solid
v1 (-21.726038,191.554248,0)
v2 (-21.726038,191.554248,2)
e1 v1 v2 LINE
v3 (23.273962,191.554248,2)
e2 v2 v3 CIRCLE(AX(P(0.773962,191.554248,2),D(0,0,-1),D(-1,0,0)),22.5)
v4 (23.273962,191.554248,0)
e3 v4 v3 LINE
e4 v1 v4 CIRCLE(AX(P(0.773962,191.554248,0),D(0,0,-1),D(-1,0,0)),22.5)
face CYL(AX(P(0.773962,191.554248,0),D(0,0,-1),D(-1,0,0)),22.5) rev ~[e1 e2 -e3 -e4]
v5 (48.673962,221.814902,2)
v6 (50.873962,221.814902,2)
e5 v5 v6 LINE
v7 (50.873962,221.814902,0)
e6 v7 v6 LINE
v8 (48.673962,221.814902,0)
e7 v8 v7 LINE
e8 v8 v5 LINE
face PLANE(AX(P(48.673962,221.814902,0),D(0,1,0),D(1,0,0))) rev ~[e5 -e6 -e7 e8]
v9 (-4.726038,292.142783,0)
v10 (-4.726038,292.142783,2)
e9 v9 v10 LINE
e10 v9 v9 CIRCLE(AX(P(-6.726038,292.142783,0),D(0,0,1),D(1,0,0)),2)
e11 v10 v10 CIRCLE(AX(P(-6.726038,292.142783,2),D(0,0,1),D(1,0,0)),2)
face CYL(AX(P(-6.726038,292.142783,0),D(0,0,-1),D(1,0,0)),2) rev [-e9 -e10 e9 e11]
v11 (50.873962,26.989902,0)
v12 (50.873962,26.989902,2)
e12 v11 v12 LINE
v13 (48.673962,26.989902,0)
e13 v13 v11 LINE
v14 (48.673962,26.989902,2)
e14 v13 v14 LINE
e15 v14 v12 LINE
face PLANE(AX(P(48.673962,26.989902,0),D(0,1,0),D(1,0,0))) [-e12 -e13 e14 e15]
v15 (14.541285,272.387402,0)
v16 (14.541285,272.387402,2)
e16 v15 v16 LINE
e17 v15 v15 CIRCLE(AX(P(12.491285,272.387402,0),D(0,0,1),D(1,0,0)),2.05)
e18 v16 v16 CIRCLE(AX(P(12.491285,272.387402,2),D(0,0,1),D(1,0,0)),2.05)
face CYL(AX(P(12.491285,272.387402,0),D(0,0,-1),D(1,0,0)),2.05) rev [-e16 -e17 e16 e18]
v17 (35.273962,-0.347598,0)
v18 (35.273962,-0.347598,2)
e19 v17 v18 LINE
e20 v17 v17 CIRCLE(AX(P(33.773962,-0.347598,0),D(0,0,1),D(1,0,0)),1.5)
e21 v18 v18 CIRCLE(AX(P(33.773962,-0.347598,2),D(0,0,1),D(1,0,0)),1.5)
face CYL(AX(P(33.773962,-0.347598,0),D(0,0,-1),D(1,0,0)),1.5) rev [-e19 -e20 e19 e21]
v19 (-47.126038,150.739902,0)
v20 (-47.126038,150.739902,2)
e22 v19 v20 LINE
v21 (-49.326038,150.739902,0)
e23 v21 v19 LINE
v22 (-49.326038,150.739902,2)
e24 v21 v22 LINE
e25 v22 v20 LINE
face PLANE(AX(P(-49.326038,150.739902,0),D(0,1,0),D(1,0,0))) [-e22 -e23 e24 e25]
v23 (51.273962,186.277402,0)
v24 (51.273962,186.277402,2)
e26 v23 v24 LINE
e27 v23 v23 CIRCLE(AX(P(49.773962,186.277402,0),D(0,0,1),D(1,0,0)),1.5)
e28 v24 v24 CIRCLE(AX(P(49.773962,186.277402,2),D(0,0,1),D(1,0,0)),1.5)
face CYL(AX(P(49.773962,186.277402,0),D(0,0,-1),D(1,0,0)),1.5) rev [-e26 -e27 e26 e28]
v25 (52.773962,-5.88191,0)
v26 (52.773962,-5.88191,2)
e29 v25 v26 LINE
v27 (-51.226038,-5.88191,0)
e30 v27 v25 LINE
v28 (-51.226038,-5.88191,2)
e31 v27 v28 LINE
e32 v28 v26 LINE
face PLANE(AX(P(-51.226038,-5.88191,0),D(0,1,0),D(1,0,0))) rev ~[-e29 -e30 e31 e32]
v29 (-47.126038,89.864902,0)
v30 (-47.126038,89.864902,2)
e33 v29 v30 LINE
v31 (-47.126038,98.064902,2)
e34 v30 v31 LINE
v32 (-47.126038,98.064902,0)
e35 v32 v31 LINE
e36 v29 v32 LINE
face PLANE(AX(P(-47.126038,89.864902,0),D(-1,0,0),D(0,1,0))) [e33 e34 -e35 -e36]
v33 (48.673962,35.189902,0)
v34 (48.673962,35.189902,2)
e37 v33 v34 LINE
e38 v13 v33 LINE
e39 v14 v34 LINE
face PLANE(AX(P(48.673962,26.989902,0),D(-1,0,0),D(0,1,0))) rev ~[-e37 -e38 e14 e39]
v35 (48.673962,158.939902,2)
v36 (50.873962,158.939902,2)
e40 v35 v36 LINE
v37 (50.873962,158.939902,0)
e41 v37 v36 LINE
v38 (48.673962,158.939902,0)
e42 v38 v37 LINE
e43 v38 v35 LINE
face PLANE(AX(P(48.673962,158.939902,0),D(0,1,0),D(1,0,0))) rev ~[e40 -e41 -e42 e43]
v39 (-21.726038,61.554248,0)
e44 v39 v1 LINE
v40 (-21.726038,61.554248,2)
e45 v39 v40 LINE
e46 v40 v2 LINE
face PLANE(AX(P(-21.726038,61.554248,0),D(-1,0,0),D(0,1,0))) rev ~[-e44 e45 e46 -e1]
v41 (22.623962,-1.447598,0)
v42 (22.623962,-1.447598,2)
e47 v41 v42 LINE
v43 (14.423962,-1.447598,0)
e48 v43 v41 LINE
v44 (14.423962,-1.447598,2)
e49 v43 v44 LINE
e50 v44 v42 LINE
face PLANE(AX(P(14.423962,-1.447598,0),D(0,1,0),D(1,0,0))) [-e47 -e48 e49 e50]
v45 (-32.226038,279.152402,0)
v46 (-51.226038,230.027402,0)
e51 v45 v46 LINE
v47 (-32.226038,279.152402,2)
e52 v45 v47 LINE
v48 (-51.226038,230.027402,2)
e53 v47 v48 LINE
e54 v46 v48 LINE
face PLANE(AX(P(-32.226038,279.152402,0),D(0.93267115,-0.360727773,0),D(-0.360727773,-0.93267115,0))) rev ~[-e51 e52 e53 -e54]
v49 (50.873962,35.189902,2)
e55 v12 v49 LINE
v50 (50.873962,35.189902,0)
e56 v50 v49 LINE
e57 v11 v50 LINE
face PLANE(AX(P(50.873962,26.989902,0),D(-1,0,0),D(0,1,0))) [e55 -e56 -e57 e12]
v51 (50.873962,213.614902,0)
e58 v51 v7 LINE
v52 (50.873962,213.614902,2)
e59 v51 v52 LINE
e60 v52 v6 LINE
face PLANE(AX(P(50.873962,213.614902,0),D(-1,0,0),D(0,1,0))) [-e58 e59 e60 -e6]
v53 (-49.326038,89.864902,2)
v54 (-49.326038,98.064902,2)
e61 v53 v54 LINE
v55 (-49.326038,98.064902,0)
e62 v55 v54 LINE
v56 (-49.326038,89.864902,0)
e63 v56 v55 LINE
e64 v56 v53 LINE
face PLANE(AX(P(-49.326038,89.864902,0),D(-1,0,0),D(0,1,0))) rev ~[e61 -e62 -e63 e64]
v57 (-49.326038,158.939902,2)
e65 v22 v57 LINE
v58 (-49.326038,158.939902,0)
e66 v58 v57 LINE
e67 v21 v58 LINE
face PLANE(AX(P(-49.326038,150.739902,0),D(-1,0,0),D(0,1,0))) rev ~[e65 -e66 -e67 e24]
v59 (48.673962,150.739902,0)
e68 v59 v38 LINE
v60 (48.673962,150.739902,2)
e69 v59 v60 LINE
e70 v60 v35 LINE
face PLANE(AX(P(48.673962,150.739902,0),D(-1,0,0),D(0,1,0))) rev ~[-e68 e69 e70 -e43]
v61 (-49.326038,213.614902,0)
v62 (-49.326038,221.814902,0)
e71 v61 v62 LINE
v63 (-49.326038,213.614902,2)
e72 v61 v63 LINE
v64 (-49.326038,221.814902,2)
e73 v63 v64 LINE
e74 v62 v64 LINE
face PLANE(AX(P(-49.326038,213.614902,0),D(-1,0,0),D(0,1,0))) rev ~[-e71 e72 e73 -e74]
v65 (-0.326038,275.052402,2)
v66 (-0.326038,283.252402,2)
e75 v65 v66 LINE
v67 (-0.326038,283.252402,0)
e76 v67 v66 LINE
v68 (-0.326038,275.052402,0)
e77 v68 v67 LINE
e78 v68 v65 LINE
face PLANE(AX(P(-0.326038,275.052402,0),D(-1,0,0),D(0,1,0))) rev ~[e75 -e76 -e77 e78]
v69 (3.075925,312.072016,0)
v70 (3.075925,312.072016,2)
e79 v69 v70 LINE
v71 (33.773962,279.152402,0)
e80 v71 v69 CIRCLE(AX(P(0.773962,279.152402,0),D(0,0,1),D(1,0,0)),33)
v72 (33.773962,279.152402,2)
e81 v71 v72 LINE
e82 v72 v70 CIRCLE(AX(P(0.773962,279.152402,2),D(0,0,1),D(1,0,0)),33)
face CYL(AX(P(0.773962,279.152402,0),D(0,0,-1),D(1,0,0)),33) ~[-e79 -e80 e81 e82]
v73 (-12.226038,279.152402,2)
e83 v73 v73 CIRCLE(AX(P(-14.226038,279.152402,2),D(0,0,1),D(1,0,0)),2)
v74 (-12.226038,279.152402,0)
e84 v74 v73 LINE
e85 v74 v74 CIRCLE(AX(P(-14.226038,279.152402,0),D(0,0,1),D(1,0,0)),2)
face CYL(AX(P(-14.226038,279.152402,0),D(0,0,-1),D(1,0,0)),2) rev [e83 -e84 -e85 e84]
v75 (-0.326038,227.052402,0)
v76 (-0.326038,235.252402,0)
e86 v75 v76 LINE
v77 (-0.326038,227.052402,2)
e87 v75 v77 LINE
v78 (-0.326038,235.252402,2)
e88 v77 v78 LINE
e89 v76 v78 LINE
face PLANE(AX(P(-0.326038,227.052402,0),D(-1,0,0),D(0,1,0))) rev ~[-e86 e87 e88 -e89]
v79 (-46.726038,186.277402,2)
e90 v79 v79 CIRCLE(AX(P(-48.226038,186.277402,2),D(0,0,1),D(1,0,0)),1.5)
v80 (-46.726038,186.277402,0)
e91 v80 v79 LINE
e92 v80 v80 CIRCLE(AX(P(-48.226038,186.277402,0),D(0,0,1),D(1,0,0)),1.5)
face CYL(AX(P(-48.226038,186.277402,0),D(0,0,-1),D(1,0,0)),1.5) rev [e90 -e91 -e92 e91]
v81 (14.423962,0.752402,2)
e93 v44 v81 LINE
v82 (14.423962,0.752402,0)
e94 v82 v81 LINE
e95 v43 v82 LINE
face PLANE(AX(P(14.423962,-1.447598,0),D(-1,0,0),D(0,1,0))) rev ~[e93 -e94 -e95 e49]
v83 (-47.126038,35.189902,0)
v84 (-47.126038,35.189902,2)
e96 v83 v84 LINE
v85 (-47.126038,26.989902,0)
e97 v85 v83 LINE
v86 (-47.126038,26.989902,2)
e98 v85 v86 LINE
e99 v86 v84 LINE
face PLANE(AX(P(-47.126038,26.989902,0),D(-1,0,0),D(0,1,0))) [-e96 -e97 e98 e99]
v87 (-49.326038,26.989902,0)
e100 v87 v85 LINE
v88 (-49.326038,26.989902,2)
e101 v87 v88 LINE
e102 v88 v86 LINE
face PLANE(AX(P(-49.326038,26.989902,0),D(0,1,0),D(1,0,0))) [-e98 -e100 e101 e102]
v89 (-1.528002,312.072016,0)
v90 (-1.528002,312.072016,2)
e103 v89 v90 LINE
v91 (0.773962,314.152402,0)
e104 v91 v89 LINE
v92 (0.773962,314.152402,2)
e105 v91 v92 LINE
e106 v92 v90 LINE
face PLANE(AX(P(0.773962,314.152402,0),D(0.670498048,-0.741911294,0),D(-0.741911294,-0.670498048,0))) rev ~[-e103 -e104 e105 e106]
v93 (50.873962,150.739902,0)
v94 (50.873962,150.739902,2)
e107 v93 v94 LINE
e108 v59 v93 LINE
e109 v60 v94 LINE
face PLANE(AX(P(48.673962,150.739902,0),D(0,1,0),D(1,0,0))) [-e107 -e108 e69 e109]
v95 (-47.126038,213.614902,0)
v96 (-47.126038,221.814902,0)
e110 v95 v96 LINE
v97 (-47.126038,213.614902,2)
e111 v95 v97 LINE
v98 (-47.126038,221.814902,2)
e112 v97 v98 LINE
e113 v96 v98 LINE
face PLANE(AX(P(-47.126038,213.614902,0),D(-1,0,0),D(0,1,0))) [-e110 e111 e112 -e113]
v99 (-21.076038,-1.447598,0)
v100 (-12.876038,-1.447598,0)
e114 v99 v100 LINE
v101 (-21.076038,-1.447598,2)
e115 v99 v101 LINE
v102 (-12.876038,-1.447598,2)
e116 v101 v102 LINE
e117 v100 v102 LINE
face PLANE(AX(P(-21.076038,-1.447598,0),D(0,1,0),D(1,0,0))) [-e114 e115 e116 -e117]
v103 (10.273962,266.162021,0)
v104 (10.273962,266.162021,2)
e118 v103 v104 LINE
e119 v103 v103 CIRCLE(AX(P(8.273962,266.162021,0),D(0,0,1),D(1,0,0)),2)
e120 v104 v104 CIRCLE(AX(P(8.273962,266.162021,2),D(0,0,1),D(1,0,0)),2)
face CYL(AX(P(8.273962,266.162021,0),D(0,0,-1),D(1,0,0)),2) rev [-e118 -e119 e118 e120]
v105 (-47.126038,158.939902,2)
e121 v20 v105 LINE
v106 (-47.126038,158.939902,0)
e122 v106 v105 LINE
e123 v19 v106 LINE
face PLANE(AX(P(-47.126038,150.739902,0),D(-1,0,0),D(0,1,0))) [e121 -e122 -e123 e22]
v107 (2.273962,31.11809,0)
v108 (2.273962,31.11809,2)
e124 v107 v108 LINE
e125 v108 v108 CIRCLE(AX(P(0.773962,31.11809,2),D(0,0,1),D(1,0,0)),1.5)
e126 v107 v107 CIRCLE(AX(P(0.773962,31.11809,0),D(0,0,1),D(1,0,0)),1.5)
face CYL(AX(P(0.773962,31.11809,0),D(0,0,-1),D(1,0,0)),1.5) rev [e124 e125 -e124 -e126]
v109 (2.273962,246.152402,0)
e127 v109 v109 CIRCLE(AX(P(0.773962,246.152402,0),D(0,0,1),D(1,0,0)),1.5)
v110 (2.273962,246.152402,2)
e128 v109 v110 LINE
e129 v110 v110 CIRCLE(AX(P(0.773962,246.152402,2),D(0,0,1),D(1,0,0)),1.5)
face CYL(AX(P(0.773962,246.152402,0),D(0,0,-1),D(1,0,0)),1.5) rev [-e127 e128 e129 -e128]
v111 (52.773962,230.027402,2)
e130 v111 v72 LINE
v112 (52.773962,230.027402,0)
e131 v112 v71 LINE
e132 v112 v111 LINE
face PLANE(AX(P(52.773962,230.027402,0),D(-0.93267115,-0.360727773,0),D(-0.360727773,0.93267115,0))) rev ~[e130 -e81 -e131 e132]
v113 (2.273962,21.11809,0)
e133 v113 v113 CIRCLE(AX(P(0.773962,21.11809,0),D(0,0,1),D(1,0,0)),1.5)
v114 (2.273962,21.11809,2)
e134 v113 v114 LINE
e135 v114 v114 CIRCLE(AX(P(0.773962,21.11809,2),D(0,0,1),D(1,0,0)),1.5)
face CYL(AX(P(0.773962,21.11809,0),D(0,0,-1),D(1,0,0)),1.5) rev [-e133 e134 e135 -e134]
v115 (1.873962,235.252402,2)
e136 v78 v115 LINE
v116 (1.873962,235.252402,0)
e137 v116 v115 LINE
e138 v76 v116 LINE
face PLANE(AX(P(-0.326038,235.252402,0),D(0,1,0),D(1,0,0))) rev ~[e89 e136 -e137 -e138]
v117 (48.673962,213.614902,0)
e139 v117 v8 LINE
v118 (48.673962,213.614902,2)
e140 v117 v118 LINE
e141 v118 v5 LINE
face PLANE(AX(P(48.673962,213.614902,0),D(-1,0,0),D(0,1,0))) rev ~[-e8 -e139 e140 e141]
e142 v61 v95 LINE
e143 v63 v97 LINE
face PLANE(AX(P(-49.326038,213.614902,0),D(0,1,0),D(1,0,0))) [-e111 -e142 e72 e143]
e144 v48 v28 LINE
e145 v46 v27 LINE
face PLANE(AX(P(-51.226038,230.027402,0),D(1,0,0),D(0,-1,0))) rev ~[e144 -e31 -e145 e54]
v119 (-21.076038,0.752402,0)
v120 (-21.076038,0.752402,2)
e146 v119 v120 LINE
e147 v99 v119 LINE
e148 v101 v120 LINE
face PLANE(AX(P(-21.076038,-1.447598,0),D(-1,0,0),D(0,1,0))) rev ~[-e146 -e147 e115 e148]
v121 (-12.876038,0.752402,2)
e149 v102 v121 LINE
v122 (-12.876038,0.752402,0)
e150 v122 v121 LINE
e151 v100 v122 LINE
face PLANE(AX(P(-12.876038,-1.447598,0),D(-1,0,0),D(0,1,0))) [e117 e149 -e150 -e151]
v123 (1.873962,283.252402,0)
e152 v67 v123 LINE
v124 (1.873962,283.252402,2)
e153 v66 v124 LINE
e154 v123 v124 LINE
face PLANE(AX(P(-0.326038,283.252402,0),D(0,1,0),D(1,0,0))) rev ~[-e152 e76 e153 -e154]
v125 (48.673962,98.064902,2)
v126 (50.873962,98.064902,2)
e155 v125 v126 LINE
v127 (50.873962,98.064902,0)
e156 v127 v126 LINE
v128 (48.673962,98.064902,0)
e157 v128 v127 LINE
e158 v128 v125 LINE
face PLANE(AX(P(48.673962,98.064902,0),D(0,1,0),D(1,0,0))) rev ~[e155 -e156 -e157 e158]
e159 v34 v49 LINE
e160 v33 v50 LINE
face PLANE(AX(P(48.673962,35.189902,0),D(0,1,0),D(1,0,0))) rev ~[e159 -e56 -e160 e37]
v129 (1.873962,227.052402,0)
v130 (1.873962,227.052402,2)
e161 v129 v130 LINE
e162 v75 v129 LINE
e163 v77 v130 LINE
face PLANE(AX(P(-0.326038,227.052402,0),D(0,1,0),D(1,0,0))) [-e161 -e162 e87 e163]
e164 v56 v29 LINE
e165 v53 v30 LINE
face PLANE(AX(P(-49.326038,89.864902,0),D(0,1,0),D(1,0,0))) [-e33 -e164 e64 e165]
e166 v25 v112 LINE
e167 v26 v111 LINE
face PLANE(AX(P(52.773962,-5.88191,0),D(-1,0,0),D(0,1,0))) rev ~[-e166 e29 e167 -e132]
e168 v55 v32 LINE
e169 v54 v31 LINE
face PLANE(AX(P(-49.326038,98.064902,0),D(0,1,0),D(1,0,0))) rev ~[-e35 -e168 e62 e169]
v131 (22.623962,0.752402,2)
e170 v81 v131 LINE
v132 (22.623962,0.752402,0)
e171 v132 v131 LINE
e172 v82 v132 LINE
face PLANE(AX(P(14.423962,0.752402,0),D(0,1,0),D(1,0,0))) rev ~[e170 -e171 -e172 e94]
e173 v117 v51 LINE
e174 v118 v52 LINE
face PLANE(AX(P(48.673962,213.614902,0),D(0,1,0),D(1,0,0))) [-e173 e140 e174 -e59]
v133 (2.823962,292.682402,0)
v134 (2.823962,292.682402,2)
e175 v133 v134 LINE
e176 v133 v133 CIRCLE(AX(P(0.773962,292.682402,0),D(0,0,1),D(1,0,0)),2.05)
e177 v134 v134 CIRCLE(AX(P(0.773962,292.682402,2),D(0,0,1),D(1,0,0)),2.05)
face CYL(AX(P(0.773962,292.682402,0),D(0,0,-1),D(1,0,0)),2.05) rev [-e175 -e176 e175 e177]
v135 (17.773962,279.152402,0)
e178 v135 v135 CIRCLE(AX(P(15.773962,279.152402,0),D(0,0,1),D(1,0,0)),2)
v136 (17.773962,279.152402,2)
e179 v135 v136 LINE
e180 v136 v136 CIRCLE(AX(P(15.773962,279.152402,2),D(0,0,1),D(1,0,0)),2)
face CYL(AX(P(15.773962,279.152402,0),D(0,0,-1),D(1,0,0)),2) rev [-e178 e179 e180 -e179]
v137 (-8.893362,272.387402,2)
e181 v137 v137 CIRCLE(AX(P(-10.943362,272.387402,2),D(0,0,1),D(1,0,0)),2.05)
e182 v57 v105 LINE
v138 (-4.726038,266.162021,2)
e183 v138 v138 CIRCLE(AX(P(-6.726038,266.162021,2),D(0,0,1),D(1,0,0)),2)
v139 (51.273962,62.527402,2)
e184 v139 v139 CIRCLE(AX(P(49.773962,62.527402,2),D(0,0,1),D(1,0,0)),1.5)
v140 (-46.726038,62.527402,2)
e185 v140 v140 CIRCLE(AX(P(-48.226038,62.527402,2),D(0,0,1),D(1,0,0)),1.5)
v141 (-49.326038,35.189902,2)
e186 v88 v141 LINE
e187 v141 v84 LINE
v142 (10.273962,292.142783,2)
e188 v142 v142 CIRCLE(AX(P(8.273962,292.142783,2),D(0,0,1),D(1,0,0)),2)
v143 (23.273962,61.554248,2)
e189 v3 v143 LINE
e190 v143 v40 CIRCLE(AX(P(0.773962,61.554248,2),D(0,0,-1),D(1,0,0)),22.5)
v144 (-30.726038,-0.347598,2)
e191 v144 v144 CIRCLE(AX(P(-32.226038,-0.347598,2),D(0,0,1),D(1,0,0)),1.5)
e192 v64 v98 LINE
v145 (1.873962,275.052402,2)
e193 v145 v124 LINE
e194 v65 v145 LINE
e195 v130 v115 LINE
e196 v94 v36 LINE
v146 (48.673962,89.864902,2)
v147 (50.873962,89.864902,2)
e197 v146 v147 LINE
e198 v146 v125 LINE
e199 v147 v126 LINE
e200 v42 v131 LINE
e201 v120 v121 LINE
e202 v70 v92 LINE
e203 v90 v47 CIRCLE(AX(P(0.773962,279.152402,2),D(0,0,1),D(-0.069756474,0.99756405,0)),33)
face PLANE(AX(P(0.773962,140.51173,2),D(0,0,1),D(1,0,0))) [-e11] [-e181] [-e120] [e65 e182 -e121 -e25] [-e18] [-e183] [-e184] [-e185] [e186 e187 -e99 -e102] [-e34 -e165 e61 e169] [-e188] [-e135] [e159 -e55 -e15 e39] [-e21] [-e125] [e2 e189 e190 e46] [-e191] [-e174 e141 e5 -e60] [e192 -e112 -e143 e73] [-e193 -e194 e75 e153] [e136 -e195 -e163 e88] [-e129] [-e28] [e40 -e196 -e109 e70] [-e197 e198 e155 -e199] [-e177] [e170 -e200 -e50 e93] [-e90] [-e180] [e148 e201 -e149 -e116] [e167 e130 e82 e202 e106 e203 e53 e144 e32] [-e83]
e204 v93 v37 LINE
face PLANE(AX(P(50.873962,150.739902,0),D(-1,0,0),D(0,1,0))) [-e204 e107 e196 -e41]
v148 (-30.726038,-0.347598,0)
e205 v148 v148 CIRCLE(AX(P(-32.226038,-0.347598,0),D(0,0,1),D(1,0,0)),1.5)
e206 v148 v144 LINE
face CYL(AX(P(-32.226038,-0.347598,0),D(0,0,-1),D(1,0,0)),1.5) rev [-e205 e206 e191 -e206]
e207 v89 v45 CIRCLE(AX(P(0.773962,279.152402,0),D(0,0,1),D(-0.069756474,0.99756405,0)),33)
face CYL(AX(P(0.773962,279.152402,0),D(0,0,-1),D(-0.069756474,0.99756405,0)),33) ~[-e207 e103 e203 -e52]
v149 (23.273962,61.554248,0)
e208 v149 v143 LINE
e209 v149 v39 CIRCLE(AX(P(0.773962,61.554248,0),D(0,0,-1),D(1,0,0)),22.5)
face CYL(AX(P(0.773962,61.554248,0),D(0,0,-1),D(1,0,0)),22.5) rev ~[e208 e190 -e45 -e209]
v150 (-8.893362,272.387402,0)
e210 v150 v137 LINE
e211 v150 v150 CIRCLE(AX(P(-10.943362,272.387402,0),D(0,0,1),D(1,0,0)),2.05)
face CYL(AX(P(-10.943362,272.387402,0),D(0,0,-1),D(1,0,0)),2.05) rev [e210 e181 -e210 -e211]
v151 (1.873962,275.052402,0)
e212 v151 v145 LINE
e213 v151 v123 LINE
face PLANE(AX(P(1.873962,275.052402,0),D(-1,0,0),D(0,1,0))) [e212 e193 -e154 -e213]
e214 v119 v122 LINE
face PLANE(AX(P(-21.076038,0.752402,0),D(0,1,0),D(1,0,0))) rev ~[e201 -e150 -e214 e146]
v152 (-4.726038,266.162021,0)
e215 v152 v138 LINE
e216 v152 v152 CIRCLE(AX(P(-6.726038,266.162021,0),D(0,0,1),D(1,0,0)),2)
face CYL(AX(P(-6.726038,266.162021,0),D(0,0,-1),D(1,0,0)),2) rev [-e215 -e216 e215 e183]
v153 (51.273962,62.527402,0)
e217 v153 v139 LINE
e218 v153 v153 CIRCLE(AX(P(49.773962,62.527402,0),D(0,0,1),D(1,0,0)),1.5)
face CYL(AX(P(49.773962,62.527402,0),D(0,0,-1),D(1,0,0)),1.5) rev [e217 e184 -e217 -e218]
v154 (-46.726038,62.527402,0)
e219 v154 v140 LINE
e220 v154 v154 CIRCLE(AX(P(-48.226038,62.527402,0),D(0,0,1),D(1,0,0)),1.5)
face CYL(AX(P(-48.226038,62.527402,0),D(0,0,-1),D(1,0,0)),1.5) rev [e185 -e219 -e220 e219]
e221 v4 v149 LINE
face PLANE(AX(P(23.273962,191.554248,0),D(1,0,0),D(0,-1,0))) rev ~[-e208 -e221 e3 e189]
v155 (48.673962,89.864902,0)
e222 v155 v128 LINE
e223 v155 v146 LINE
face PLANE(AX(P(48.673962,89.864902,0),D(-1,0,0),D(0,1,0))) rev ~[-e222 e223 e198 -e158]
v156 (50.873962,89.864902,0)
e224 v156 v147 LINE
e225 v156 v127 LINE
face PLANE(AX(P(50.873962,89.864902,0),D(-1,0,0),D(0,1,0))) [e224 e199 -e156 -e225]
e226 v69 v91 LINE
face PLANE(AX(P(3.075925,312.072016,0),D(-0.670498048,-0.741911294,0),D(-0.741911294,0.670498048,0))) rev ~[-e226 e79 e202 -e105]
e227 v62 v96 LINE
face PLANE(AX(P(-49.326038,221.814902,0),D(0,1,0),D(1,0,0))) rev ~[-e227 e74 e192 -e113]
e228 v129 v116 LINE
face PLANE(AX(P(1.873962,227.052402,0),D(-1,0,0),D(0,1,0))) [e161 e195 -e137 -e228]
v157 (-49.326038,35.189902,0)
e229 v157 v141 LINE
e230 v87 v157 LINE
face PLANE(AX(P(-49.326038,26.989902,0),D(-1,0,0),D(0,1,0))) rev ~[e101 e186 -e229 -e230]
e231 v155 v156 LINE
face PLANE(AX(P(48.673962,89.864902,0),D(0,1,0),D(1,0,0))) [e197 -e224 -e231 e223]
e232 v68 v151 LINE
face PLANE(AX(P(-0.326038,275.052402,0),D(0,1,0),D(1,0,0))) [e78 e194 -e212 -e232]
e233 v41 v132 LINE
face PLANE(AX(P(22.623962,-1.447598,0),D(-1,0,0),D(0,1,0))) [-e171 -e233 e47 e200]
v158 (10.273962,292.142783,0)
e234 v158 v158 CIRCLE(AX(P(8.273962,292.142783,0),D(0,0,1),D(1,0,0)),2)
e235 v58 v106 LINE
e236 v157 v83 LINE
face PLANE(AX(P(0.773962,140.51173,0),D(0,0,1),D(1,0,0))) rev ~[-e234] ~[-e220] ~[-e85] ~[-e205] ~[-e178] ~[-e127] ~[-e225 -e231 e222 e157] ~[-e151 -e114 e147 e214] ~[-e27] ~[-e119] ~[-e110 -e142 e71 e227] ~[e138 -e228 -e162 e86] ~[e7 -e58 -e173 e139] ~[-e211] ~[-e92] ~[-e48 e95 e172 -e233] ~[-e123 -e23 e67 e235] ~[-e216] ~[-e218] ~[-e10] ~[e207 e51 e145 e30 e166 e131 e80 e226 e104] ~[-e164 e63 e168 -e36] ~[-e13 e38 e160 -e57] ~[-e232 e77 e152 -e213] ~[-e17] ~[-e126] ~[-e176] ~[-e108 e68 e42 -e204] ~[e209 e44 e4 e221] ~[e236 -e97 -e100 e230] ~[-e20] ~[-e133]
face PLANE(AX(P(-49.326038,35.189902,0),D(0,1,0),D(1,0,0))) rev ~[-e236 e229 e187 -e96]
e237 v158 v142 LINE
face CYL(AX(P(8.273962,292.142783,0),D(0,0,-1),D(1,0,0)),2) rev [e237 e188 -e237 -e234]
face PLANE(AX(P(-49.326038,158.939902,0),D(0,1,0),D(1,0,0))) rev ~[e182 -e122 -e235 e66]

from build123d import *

# Parameters (mm, degrees)
SKETCH_1_R      = 1.5
SKETCH_1_R_2    = 2
SKETCH_1_R_3    = 2.05
SKETCH_1_W      = 8.2
SKETCH_1_H      = 2.2
SKETCH_1_W_2    = 2.2
SKETCH_1_H_2    = 8.2
EXTRUDE_1_DEPTH = 2


with BuildPart() as part:
    # 草图1 → 凸台-拉伸1 (new body)
    with BuildSketch(Plane.XY):
        with BuildLine():
            Line((-51.22603831, 230.027402263), (-51.22603831, 124.402402263))
            Line((-51.22603831, 124.402402263), (-51.22603831, 0.652402263))
            Line((-51.22603831, 0.652402263), (-51.22603831, -5.881910062))
            Line((-51.22603831, -5.881910062), (-17.97603831, -5.881910062))
            Line((-17.97603831, -5.881910062), (19.52396169, -5.881910062))
            Line((19.52396169, -5.881910062), (52.77396169, -5.881910062))
            Line((52.77396169, -5.881910062), (52.77396169, 0.652402263))
            Line((52.77396169, 0.652402263), (52.77396169, 124.402402263))
            Line((52.77396169, 124.402402263), (52.77396169, 230.027402263))
            Line((52.77396169, 230.027402263), (33.77396169, 279.152402263))
            ThreePointArc((33.77396169, 279.152402263), (24.908633844, 301.658348145), (3.075925324, 312.072015922))
            Line((3.075925324, 312.072015922), (0.77396169, 314.152402263))
            Line((0.77396169, 314.152402263), (-1.528001943, 312.072015922))
            ThreePointArc((-1.528001943, 312.072015922), (-23.360710463, 301.658348145), (-32.22603831, 279.152402263))
            Line((-32.22603831, 279.152402263), (-51.22603831, 230.027402263))
        make_face()
        with Locations((-32.22603831, -0.347597737)):
            Circle(SKETCH_1_R, mode=Mode.SUBTRACT)
        with Locations((-48.22603831, 62.527402263)):
            Circle(SKETCH_1_R, mode=Mode.SUBTRACT)
        with Locations((-48.22603831, 186.277402263)):
            Circle(SKETCH_1_R, mode=Mode.SUBTRACT)
        with Locations((33.77396169, -0.347597737)):
            Circle(SKETCH_1_R, mode=Mode.SUBTRACT)
        with Locations((49.77396169, 62.527402263)):
            Circle(SKETCH_1_R, mode=Mode.SUBTRACT)
        with Locations((49.77396169, 186.277402263)):
            Circle(SKETCH_1_R, mode=Mode.SUBTRACT)
        with Locations((0.77396169, 21.118089938)):
            Circle(SKETCH_1_R, mode=Mode.SUBTRACT)
        with Locations((0.77396169, 31.118089938)):
            Circle(SKETCH_1_R, mode=Mode.SUBTRACT)
        with Locations((-14.22603831, 279.152402263)):
            Circle(SKETCH_1_R_2, mode=Mode.SUBTRACT)
        with Locations((-6.72603831, 292.14278332)):
            Circle(SKETCH_1_R_2, mode=Mode.SUBTRACT)
        with Locations((8.27396169, 292.14278332)):
            Circle(SKETCH_1_R_2, mode=Mode.SUBTRACT)
        with Locations((15.77396169, 279.152402263)):
            Circle(SKETCH_1_R_2, mode=Mode.SUBTRACT)
        with Locations((8.27396169, 266.162021207)):
            Circle(SKETCH_1_R_2, mode=Mode.SUBTRACT)
        with Locations((-6.72603831, 266.162021207)):
            Circle(SKETCH_1_R_2, mode=Mode.SUBTRACT)
        with Locations((0.77396169, 292.682402263)):
            Circle(SKETCH_1_R_3, mode=Mode.SUBTRACT)
        with Locations((12.491285404, 272.387402263)):
            Circle(SKETCH_1_R_3, mode=Mode.SUBTRACT)
        with Locations((-10.943362023, 272.387402263)):
            Circle(SKETCH_1_R_3, mode=Mode.SUBTRACT)
        with Locations((0.77396169, 246.152402263)):
            Circle(SKETCH_1_R, mode=Mode.SUBTRACT)
        with Locations((-16.97603831, -0.347597737)):
            Rectangle(SKETCH_1_W, SKETCH_1_H, mode=Mode.SUBTRACT)
        with Locations((18.52396169, -0.347597737)):
            Rectangle(SKETCH_1_W, SKETCH_1_H, mode=Mode.SUBTRACT)
        with BuildLine():
            Line((23.27396169, 191.554247886), (23.27396169, 61.554247886))
            ThreePointArc((23.27396169, 61.554247886), (0.77396169, 39.054247886), (-21.72603831, 61.554247886))
            Line((-21.72603831, 61.554247886), (-21.72603831, 191.554247886))
            ThreePointArc((-21.72603831, 191.554247886), (0.77396169, 214.054247886), (23.27396169, 191.554247886))
        make_face(mode=Mode.SUBTRACT)
        with Locations((-48.22603831, 217.714902263)):
            Rectangle(SKETCH_1_W_2, SKETCH_1_H_2, mode=Mode.SUBTRACT)
        with Locations((-48.22603831, 154.839902263)):
            Rectangle(SKETCH_1_W_2, SKETCH_1_H_2, mode=Mode.SUBTRACT)
        with Locations((-48.22603831, 93.964902263)):
            Rectangle(SKETCH_1_W_2, SKETCH_1_H_2, mode=Mode.SUBTRACT)
        with Locations((-48.22603831, 31.089902263)):
            Rectangle(SKETCH_1_W_2, SKETCH_1_H_2, mode=Mode.SUBTRACT)
        with Locations((49.77396169, 31.089902263)):
            Rectangle(SKETCH_1_W_2, SKETCH_1_H_2, mode=Mode.SUBTRACT)
        with Locations((49.77396169, 93.964902263)):
            Rectangle(SKETCH_1_W_2, SKETCH_1_H_2, mode=Mode.SUBTRACT)
        with Locations((49.77396169, 154.839902263)):
            Rectangle(SKETCH_1_W_2, SKETCH_1_H_2, mode=Mode.SUBTRACT)
        with Locations((49.77396169, 217.714902263)):
            Rectangle(SKETCH_1_W_2, SKETCH_1_H_2, mode=Mode.SUBTRACT)
        with Locations((0.77396169, 231.152402263)):
            Rectangle(SKETCH_1_W_2, SKETCH_1_H_2, mode=Mode.SUBTRACT)
        with Locations((0.77396169, 279.152402263)):
            Rectangle(SKETCH_1_W_2, SKETCH_1_H_2, mode=Mode.SUBTRACT)
    extrude(amount=EXTRUDE_1_DEPTH)


solid = part.part
